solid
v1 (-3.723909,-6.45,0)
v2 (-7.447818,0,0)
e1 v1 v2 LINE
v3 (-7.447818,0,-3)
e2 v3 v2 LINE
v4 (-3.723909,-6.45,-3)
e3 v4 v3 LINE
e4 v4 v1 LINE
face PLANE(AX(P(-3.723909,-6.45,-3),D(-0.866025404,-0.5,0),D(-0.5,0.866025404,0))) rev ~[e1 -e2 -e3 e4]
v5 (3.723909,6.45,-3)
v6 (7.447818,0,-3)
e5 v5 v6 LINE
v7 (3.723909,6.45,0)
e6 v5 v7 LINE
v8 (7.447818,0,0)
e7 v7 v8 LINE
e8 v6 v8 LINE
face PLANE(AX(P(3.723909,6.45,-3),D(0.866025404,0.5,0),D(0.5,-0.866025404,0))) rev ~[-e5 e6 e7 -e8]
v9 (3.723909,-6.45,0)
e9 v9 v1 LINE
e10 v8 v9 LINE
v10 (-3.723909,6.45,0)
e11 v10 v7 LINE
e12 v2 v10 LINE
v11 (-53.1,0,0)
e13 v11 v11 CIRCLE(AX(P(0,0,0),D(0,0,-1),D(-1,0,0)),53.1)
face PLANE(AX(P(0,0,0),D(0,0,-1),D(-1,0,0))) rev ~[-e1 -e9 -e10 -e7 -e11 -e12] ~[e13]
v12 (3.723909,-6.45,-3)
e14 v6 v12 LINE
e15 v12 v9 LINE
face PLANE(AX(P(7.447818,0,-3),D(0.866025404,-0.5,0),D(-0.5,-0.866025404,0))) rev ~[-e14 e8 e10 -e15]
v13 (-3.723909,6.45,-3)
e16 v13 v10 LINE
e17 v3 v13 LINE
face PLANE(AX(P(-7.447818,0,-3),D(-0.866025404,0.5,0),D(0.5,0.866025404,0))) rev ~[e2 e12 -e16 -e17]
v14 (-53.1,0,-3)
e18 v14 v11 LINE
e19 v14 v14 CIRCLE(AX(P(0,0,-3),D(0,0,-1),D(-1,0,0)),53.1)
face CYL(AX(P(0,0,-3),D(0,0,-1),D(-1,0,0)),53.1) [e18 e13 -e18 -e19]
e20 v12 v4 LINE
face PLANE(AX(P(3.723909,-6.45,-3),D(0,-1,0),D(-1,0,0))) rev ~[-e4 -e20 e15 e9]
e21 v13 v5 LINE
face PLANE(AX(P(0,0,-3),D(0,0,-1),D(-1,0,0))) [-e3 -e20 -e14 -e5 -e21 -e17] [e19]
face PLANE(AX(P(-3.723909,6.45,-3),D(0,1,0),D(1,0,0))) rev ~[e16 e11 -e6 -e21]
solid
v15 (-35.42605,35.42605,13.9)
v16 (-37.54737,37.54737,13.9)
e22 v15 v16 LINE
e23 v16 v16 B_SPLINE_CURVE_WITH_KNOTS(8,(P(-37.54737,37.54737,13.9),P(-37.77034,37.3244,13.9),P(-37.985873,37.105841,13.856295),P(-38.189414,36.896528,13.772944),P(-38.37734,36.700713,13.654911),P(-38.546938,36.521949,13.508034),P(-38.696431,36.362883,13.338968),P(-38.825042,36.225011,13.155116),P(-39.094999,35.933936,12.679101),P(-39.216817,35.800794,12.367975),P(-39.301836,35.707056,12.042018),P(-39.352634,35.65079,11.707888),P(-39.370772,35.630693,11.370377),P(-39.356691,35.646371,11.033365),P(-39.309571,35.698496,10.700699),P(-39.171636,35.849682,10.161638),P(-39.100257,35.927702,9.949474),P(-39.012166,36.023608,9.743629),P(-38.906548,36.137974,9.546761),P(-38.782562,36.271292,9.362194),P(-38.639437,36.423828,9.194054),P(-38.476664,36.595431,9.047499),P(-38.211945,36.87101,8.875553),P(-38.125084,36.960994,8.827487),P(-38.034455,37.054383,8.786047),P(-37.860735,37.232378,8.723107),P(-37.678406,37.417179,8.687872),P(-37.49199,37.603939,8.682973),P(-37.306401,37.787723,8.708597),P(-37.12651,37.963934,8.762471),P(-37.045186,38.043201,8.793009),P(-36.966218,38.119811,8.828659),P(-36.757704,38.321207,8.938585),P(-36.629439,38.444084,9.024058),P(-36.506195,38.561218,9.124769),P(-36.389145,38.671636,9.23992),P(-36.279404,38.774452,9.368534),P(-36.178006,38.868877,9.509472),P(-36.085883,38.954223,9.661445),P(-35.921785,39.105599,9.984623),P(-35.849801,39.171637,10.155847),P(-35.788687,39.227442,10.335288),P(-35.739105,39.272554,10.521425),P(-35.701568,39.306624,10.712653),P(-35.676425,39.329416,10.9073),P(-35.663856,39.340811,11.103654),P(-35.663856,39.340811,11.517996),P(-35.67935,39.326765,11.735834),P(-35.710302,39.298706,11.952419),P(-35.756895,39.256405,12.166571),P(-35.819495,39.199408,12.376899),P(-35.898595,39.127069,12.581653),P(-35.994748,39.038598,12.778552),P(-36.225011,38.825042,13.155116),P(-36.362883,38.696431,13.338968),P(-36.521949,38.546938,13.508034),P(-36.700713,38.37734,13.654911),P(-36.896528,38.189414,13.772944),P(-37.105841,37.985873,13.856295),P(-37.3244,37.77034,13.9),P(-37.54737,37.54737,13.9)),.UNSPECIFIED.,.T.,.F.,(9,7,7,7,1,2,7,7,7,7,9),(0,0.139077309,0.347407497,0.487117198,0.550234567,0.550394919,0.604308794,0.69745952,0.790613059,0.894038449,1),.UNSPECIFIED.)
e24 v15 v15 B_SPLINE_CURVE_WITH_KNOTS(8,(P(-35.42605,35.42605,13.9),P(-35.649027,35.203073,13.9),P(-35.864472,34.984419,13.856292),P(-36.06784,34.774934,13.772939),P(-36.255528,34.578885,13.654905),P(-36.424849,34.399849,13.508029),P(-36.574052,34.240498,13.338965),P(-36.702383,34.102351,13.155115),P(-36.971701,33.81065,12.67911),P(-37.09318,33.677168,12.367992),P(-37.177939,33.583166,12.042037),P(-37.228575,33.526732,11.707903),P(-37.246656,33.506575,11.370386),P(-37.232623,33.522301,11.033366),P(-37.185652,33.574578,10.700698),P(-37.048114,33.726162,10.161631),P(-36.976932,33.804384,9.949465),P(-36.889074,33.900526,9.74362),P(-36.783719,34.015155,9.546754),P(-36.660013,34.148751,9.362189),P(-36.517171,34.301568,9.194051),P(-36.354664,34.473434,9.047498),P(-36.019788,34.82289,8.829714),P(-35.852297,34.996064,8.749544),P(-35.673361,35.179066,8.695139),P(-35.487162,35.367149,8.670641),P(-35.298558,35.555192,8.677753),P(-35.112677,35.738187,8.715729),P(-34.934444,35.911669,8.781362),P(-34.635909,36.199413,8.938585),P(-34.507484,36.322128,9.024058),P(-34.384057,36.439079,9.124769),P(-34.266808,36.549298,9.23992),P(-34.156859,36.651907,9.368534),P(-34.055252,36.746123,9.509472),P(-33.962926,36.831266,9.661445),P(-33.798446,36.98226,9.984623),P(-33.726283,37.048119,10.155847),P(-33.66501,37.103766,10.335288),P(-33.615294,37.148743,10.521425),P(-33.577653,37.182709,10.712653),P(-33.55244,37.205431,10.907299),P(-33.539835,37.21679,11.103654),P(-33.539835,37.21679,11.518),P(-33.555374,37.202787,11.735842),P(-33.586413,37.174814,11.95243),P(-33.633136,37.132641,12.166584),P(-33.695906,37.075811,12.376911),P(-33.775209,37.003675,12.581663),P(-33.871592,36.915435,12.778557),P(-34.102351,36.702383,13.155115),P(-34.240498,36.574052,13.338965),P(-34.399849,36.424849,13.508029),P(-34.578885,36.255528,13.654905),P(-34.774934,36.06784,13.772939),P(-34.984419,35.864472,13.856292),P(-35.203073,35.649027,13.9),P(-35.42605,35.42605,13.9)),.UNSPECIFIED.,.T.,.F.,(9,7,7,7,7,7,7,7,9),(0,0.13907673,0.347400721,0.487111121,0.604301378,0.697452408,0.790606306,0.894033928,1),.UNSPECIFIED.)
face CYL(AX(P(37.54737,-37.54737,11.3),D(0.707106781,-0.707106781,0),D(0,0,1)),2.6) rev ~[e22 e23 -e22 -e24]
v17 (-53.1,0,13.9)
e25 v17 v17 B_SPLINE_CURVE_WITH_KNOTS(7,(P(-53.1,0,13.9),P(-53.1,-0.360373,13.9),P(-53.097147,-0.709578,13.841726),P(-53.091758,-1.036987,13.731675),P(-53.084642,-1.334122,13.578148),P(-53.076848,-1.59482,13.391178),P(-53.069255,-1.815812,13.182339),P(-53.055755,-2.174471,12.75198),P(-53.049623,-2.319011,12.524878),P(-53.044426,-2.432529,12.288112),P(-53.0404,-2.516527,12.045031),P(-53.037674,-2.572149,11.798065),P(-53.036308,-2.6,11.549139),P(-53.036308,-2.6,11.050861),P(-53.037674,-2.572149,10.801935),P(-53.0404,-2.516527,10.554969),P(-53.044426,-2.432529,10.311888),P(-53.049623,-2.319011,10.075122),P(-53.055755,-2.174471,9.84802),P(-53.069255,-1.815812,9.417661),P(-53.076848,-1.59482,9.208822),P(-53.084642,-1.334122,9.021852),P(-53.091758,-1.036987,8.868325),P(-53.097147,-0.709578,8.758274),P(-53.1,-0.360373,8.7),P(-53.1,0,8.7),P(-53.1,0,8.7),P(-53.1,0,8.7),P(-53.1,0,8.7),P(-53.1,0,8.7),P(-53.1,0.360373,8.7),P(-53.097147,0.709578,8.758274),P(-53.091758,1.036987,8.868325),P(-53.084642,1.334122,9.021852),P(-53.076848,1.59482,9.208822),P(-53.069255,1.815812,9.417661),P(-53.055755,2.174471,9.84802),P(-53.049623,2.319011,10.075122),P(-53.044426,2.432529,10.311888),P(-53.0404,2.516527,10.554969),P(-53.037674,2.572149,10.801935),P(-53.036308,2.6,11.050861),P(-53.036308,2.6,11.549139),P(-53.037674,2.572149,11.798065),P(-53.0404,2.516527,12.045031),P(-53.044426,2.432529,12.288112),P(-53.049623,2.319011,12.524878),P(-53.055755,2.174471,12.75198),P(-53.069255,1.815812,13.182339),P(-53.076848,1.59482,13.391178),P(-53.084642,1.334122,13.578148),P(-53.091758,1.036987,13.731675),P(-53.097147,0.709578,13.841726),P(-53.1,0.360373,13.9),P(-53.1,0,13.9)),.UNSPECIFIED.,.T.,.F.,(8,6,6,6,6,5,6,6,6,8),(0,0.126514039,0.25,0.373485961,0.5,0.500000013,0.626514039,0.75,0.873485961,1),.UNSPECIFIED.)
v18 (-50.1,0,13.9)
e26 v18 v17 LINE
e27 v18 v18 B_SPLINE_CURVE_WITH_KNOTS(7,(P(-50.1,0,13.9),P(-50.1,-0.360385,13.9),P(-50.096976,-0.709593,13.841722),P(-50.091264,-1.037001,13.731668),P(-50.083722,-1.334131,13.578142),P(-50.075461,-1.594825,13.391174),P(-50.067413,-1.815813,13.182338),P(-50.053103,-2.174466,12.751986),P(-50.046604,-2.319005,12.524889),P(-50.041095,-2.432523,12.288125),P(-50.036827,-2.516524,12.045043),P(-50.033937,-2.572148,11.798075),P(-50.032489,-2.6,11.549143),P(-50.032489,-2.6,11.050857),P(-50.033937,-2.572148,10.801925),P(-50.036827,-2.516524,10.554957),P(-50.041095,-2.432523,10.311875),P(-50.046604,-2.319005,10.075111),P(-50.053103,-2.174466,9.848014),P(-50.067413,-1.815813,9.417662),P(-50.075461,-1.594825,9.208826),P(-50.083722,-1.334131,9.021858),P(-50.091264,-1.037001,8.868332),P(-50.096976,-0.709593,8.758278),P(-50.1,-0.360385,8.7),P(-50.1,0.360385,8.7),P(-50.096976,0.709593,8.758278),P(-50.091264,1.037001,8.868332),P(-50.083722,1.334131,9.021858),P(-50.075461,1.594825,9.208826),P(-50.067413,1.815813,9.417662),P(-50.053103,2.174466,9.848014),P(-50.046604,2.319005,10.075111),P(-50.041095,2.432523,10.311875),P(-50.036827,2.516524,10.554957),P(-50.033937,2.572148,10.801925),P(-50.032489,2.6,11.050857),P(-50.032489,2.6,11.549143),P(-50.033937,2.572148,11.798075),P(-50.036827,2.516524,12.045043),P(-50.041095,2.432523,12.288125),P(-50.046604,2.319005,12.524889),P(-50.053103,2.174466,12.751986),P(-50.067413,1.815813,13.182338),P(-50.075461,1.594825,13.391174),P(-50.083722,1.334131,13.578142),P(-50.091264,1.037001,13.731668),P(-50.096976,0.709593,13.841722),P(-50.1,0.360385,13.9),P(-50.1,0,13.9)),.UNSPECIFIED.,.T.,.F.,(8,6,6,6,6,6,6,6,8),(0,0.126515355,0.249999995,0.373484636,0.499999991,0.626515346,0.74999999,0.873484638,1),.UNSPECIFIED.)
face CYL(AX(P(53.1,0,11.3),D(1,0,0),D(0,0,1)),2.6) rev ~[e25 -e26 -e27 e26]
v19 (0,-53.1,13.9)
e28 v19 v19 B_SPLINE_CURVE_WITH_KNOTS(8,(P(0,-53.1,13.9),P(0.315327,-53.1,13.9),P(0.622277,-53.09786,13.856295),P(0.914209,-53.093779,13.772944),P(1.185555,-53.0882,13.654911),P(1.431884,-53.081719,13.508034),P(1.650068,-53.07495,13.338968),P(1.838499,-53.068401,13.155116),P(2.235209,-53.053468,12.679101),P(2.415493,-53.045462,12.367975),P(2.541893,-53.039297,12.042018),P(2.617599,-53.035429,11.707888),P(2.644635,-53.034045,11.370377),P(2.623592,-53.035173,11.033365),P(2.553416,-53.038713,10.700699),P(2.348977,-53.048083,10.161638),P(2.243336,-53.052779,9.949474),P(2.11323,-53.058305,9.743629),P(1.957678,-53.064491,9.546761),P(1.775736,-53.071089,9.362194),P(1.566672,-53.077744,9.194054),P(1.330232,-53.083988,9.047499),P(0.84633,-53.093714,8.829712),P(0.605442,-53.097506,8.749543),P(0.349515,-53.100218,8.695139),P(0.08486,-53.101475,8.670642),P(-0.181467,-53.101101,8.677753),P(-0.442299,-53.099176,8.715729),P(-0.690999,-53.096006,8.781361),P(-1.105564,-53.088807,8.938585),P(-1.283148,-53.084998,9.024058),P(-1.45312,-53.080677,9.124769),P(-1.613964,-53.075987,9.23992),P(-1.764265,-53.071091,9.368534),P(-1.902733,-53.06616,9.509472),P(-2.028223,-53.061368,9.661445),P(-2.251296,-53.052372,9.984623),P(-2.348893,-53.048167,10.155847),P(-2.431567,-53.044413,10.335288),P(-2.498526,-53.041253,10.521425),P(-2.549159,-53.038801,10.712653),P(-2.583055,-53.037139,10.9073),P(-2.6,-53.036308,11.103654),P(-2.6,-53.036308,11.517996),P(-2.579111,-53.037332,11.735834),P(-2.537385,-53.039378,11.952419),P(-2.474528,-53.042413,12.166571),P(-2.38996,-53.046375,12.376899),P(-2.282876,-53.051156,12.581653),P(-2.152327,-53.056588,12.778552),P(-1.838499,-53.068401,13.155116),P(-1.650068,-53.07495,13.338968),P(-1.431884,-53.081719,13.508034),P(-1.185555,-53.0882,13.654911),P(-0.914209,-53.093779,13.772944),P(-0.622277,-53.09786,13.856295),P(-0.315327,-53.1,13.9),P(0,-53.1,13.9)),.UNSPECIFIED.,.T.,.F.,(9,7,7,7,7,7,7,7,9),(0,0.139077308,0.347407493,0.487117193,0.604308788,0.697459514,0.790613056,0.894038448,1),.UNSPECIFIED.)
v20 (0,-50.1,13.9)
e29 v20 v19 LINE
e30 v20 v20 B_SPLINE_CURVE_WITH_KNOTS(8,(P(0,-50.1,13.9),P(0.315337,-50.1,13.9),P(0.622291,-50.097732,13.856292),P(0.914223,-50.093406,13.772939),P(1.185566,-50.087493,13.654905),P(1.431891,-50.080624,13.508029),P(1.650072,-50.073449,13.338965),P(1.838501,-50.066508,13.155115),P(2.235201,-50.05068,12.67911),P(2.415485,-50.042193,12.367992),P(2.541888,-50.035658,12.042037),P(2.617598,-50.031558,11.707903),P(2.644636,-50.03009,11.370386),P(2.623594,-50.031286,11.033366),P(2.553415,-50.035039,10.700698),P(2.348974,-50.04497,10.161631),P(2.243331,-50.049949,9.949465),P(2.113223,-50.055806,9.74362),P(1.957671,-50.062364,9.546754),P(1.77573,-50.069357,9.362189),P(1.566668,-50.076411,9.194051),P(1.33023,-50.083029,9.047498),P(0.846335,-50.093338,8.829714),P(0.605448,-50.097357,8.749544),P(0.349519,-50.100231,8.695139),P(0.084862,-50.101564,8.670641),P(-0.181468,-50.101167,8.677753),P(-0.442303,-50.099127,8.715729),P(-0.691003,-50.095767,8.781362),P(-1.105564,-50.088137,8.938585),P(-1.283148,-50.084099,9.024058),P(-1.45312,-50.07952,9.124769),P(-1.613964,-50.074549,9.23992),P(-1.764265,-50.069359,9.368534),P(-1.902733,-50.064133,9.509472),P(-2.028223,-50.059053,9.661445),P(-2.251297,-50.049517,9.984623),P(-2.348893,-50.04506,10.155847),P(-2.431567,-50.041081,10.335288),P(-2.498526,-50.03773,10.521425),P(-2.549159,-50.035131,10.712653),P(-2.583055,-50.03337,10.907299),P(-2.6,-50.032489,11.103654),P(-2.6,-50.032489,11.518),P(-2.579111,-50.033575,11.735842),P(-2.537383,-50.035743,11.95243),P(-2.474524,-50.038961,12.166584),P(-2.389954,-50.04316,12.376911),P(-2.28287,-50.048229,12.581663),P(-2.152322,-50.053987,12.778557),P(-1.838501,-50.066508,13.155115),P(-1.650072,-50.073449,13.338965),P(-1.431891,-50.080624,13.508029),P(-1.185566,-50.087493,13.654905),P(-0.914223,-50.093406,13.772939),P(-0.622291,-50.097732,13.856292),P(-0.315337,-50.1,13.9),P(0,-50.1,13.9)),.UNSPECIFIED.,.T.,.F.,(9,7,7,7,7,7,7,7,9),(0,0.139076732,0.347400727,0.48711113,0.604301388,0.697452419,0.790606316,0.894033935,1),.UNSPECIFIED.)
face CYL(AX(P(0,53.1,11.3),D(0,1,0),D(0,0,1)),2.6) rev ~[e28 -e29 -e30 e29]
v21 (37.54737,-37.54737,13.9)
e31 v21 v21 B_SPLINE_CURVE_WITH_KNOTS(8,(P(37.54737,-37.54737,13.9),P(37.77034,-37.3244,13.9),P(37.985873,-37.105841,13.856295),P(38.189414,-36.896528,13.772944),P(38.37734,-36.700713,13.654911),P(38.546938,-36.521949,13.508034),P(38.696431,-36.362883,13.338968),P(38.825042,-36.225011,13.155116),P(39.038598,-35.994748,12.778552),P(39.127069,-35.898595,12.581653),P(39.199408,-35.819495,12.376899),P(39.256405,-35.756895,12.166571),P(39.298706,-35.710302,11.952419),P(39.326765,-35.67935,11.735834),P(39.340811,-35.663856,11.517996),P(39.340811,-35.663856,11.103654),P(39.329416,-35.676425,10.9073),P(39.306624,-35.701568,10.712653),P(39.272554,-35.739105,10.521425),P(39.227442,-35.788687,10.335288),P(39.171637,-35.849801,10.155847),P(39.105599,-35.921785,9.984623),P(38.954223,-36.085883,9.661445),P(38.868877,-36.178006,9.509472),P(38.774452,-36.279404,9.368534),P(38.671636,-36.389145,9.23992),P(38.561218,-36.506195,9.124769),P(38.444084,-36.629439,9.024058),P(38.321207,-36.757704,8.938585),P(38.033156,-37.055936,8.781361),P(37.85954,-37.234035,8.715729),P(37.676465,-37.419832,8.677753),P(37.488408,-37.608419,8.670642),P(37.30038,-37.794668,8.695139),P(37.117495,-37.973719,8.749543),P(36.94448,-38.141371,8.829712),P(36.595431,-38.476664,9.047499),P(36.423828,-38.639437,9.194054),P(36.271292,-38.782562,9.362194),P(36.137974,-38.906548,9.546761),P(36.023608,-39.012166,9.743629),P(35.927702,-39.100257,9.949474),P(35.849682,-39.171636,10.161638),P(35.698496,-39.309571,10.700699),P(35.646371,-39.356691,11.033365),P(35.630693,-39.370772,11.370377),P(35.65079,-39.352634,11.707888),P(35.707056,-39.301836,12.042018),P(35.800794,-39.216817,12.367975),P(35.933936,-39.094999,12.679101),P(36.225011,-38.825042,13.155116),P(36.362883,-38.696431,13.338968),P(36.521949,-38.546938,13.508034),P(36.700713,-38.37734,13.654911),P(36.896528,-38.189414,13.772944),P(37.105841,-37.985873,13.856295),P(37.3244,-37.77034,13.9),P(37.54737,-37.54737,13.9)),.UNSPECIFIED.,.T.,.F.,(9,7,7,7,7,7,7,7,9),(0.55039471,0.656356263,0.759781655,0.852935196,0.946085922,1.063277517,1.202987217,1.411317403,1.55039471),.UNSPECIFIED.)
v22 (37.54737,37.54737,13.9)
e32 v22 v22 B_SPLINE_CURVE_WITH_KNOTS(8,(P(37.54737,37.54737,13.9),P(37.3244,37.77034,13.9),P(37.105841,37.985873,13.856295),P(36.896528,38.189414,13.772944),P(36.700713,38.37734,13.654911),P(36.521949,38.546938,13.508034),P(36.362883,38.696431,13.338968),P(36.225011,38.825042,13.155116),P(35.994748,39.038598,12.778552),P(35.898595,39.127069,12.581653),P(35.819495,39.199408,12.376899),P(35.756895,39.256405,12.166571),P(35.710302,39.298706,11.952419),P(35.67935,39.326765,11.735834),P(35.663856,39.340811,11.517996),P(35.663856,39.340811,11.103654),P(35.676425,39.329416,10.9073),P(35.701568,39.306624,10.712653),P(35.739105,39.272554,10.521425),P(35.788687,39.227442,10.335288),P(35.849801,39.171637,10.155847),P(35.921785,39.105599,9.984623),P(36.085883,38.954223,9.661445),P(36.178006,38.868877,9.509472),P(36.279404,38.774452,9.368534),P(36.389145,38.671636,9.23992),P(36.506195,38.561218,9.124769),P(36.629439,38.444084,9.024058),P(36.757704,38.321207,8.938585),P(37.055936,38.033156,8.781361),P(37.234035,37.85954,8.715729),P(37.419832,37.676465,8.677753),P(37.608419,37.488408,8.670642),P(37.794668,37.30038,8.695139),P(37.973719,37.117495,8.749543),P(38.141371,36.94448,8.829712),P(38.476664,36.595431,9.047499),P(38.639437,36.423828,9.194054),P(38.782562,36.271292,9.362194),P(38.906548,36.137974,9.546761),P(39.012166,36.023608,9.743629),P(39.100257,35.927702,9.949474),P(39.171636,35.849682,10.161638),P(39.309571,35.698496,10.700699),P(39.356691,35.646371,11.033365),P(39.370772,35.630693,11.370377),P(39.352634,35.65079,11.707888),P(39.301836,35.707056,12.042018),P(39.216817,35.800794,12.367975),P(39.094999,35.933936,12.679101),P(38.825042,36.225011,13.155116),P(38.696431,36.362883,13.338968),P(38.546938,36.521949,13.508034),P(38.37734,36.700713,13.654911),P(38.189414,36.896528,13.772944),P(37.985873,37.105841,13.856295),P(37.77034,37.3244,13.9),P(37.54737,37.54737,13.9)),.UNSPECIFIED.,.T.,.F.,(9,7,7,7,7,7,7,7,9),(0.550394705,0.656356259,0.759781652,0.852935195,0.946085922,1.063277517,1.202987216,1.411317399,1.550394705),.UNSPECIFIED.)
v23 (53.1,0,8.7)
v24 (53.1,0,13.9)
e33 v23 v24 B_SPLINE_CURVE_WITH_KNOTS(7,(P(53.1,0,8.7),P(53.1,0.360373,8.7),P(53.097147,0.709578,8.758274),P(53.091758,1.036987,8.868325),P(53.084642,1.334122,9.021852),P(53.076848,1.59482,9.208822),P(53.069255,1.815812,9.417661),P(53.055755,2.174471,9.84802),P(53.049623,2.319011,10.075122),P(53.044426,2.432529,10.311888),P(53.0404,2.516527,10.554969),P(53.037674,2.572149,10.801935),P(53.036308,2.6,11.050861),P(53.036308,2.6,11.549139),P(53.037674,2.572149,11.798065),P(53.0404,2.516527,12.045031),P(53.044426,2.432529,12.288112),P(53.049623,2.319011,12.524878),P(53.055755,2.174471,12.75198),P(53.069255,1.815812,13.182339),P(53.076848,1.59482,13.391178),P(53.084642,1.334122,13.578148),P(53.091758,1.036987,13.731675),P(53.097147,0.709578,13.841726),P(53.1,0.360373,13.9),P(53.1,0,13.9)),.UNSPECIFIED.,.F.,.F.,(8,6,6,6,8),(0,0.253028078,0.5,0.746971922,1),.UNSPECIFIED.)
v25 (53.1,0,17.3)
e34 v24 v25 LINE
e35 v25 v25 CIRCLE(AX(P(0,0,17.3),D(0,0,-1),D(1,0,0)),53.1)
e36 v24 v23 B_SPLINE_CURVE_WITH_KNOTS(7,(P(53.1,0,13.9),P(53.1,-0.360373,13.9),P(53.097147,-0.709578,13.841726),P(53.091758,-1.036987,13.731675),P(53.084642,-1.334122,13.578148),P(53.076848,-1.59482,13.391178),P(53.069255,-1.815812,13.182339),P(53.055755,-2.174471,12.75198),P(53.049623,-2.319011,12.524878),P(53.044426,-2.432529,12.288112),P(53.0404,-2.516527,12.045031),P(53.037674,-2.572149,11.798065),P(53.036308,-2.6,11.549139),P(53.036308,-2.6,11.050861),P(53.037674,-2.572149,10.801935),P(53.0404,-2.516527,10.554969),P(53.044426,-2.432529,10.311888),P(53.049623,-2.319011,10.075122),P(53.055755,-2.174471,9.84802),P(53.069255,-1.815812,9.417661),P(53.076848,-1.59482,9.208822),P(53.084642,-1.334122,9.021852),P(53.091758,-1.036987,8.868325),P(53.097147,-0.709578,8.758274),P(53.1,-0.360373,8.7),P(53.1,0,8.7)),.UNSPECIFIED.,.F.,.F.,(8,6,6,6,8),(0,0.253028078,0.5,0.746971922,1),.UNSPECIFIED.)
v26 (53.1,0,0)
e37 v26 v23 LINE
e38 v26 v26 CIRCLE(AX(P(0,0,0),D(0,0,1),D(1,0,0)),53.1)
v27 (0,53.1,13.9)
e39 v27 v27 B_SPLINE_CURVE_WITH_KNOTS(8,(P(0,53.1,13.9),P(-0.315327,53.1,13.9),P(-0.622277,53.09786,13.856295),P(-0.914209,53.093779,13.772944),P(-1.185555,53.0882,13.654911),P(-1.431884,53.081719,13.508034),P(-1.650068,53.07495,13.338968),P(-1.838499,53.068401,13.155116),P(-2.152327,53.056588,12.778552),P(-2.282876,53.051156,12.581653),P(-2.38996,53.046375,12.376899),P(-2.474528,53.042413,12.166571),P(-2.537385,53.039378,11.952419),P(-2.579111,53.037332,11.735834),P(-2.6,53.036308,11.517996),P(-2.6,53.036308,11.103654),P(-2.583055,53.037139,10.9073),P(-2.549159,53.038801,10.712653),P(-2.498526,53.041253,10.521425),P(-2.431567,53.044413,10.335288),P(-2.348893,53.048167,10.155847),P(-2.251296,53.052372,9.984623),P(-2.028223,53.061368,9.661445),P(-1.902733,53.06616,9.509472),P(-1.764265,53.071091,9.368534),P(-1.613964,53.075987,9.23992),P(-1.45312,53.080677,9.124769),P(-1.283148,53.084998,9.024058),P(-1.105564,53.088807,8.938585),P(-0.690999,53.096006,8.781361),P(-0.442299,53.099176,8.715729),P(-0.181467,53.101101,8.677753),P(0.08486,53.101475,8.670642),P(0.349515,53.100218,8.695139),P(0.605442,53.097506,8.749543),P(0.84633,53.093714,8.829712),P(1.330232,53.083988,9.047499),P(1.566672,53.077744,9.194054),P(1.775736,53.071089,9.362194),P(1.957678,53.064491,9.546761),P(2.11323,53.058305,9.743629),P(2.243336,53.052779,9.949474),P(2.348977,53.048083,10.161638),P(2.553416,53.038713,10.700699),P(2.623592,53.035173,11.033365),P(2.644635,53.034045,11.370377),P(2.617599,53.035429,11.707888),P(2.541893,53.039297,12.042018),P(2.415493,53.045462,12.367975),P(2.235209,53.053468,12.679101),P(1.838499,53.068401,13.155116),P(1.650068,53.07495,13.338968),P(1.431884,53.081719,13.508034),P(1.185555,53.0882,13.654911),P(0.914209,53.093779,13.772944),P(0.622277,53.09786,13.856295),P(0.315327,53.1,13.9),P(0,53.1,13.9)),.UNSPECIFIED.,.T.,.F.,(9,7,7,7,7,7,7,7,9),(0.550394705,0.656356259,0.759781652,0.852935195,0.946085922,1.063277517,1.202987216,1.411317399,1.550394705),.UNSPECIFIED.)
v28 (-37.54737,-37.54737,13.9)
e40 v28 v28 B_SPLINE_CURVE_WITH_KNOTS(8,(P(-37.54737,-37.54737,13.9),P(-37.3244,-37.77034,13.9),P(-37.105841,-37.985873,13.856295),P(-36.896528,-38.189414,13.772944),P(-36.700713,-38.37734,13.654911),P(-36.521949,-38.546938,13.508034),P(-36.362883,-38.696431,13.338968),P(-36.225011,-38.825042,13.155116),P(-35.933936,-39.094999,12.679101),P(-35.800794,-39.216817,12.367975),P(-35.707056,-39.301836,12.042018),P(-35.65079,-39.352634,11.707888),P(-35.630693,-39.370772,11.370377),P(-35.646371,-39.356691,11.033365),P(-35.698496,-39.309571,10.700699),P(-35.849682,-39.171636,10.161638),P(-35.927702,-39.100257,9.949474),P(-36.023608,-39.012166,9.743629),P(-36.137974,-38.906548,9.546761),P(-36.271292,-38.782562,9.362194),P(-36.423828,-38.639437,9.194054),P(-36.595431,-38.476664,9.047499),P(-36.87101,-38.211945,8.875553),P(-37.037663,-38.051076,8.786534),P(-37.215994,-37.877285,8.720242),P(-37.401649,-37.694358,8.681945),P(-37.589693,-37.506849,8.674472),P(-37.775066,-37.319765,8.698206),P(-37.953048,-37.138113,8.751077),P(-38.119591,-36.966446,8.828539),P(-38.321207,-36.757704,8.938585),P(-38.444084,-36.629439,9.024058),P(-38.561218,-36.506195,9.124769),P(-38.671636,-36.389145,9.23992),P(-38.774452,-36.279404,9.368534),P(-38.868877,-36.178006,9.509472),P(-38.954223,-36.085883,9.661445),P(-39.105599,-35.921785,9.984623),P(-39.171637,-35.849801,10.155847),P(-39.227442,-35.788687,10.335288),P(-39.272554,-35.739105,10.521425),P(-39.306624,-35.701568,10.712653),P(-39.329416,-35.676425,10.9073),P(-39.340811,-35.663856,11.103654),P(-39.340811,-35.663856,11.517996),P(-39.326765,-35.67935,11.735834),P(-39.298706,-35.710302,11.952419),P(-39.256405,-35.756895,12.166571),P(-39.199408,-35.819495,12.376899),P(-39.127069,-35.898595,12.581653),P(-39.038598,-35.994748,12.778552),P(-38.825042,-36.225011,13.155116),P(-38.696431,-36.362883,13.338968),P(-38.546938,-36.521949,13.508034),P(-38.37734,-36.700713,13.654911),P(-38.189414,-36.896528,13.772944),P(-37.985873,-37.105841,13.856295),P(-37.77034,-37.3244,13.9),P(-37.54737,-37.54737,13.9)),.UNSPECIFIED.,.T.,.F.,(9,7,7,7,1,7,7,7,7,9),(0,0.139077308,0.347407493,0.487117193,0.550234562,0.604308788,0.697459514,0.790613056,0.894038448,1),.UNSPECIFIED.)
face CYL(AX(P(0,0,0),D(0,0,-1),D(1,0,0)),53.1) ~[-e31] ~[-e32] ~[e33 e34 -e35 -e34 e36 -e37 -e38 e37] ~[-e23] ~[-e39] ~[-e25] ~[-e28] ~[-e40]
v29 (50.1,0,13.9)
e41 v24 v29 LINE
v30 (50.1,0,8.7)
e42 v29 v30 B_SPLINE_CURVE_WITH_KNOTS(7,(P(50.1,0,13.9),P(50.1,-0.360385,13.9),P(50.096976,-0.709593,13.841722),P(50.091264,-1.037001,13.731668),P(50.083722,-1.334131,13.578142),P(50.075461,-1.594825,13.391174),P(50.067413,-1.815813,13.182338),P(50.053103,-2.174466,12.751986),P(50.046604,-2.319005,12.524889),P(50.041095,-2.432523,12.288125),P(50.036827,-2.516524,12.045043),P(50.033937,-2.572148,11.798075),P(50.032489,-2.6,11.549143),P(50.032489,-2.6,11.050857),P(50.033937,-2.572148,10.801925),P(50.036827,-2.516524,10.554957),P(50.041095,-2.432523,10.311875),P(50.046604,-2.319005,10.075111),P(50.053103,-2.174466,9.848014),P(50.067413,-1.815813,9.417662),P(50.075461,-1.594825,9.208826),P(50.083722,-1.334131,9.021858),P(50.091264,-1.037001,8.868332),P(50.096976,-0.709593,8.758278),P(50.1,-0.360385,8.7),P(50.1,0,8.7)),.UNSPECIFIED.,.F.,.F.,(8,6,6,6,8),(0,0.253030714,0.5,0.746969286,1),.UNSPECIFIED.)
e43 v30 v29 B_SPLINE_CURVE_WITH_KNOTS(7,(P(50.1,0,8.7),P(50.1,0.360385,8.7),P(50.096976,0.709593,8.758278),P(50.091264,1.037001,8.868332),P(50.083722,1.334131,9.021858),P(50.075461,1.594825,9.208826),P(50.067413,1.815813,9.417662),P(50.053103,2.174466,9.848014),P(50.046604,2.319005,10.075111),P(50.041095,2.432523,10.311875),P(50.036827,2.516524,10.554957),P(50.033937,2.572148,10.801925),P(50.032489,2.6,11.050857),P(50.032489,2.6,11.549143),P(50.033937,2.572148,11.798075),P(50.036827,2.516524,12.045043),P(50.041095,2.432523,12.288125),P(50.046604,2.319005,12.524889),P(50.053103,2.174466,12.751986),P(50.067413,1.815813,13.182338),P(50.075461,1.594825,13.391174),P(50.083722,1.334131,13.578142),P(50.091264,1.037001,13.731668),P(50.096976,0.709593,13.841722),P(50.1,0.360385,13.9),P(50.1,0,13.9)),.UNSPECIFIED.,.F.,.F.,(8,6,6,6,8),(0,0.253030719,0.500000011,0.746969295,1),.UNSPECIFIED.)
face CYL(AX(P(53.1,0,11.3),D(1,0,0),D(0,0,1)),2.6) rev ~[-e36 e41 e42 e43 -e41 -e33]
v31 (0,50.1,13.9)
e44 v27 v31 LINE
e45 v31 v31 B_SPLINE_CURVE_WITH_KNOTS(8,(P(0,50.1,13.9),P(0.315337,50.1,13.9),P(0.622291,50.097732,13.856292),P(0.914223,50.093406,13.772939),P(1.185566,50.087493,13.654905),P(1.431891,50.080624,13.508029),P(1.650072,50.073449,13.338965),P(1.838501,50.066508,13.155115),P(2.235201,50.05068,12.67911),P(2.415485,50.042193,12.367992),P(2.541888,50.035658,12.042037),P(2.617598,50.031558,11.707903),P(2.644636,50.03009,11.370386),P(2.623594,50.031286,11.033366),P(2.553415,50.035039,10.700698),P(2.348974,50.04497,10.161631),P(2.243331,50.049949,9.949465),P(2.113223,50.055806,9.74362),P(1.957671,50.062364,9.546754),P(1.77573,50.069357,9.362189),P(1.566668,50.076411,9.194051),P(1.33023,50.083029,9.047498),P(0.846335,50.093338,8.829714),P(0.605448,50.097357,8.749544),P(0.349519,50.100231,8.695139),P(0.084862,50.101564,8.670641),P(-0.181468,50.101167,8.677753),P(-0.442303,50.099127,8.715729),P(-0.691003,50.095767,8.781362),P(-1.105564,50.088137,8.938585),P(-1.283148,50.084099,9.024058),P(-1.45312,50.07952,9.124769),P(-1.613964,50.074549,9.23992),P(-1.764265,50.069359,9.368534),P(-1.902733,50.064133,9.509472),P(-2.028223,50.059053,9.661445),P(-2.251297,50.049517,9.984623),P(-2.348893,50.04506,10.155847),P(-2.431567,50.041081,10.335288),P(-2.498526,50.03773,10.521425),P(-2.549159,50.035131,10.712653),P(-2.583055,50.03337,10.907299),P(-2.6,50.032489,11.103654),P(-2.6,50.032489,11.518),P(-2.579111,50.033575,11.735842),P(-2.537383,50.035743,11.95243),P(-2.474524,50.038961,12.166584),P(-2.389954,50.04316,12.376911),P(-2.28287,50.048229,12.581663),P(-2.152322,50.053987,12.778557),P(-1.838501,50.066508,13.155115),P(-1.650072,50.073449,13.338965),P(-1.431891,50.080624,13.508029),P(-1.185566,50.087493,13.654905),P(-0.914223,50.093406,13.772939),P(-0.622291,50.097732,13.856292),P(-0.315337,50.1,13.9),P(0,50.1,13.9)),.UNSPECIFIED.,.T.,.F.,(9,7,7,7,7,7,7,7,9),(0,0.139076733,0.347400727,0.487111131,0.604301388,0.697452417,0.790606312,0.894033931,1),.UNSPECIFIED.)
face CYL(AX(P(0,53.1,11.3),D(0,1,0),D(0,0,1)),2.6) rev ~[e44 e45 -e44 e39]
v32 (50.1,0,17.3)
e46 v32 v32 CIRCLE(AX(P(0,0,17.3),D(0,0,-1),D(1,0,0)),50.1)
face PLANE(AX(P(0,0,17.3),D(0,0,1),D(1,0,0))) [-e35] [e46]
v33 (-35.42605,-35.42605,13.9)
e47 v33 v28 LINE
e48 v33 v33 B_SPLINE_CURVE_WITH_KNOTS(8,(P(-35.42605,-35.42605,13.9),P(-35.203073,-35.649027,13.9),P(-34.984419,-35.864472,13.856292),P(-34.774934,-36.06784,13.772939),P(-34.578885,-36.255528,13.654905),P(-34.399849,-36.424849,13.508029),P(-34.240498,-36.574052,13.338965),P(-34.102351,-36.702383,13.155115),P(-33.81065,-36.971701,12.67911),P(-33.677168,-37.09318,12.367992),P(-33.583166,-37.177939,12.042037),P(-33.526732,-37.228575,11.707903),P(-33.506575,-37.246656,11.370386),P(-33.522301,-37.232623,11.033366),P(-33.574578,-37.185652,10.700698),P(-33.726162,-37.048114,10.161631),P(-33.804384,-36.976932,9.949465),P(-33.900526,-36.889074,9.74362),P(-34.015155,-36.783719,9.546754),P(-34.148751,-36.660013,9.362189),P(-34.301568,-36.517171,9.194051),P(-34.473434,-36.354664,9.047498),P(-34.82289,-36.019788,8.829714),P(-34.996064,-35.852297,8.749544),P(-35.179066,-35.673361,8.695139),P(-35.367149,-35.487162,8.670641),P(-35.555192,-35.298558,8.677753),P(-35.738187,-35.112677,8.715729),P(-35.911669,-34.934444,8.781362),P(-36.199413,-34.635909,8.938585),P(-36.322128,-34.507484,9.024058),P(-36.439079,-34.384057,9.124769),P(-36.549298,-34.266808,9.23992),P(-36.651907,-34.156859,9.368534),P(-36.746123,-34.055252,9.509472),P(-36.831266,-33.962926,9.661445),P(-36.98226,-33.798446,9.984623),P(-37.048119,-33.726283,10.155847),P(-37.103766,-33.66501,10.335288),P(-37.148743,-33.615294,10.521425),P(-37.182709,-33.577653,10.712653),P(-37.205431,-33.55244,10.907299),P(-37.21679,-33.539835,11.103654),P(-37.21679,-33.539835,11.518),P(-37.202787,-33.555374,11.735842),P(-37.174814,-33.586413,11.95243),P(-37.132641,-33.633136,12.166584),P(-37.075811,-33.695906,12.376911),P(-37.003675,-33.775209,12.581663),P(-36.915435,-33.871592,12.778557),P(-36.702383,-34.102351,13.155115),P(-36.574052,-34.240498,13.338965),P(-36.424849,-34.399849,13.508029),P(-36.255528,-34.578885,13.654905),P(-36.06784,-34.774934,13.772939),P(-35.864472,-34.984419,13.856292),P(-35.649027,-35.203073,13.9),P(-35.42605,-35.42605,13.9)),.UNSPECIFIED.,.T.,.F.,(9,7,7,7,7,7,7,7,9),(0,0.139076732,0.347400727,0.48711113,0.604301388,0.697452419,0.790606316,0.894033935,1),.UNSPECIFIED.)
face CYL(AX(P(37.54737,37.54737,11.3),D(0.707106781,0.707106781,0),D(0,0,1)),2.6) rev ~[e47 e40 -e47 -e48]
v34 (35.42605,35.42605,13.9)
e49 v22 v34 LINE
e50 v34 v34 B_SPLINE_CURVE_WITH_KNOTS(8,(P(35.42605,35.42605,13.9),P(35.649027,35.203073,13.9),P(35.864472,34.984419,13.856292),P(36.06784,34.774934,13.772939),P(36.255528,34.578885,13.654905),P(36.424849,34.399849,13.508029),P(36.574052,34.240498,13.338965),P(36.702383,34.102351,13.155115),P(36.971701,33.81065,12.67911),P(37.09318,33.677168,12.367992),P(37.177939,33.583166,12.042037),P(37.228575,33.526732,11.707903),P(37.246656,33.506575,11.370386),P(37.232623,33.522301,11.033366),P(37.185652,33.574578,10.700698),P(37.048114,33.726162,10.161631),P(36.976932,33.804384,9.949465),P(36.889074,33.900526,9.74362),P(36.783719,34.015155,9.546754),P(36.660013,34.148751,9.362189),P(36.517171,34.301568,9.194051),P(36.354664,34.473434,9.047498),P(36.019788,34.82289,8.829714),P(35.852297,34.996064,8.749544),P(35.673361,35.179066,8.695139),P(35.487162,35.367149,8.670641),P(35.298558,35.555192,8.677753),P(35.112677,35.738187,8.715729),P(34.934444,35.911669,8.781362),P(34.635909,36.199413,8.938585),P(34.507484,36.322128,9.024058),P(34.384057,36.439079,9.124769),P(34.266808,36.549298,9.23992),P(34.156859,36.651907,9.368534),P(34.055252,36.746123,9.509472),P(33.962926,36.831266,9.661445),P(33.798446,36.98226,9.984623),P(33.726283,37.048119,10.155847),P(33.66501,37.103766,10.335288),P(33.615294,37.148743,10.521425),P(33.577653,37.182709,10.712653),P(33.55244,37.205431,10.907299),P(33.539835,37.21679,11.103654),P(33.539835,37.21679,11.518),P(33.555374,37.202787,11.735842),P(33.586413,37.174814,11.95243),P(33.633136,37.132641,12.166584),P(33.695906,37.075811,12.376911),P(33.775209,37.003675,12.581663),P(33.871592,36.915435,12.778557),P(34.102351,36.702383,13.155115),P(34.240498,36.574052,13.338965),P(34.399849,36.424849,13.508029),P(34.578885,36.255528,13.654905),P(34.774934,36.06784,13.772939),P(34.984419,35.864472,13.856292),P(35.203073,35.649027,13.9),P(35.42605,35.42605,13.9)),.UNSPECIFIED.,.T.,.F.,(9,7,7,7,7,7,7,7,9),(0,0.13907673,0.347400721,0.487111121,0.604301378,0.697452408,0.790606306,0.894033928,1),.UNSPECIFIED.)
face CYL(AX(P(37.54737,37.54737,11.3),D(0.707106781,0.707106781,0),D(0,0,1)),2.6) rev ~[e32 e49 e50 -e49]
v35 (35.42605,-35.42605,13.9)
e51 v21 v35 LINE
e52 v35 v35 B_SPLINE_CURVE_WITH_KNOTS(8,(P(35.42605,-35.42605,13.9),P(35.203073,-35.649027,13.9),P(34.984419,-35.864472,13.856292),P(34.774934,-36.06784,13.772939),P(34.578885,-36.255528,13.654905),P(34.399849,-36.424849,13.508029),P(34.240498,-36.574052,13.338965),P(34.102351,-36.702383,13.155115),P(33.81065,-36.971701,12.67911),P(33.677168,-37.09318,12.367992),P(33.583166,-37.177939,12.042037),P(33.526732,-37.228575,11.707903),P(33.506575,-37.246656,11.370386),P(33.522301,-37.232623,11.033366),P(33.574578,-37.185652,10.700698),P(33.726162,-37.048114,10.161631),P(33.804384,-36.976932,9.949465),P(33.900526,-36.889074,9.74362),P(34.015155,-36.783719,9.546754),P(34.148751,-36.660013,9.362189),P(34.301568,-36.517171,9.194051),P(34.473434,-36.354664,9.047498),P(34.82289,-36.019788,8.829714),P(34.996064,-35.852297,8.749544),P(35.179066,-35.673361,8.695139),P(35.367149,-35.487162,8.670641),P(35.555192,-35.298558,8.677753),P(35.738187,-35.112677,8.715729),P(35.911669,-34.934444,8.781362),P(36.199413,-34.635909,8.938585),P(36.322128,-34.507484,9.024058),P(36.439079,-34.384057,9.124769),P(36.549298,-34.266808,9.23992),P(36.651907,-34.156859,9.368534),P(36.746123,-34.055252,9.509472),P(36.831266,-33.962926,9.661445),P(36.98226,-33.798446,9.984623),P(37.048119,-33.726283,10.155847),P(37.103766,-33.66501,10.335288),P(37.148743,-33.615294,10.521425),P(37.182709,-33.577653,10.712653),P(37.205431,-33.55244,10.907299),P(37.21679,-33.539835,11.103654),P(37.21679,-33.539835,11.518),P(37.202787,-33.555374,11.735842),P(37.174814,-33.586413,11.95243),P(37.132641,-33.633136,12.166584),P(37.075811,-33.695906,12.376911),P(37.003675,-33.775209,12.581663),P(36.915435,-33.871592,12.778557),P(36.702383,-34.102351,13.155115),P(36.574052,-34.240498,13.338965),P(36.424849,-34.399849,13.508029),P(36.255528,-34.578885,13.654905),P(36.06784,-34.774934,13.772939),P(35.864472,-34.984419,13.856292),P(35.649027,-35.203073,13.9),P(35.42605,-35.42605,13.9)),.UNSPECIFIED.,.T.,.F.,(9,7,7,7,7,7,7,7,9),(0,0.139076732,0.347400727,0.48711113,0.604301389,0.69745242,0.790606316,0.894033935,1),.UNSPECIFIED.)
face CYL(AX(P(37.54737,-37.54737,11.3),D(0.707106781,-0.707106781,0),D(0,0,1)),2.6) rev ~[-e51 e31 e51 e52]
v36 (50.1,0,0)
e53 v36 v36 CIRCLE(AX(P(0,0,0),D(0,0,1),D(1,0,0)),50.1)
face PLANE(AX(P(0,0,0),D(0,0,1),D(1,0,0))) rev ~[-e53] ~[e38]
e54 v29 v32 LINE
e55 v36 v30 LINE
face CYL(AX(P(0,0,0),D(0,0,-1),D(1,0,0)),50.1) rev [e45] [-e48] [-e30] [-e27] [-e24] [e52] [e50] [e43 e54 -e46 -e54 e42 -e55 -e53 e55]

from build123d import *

# Parameters (mm, degrees)
SKETCH_1_R               = 53.1
SKETCH_1_R_2             = 50.1
EXTRUDE_1_DEPTH          = 22.3
EXTRUDE_START            = 3
SKETCH_2_R               = 53.1
EXTRUDE_2_DEPTH          = 3
SKETCH_4_R               = 2.6
CUT_EXTRUDE_3_DEPTH      = 121.81117498
PATTERN_CIRCULAR_1_COUNT = 8
CUT_EXTRUDE_4_DEPTH      = 10
SKETCH_5_R               = 65.353974711
CUT_EXTRUDE_5_DEPTH      = 5


with BuildPart() as part:
    # 草图1 → 凸台-拉伸1 (new body)
    with BuildSketch(Plane.XY):
        Circle(SKETCH_1_R)
        Circle(SKETCH_1_R_2, mode=Mode.SUBTRACT)
    extrude(amount=EXTRUDE_1_DEPTH)

    # 草图4 → 切除-拉伸3 (cut, through all)
    with BuildSketch(Plane(origin=(0, 53.1, 0), x_dir=(1, 0, 0), z_dir=(0, 1, 0))):
        with Locations(Location((0, -11.3, 0), (0, 0, 270))):
            Circle(SKETCH_4_R)
    cut_extrude_3 = extrude(amount=-CUT_EXTRUDE_3_DEPTH, mode=Mode.SUBTRACT)

    # 阵列(圆周)1: 切除-拉伸3 ×8 about axis
    pattern_circular_1_axis = Axis((0, 0, -3), (0, 0, -1))
    for i in range(1, PATTERN_CIRCULAR_1_COUNT):
        add(cut_extrude_3.rotate(pattern_circular_1_axis, i * 360 / PATTERN_CIRCULAR_1_COUNT), mode=Mode.SUBTRACT)

    # 草图5 → 切除-拉伸5 (cut)
    with BuildSketch(Plane.XY.offset(22.3)):
        Circle(SKETCH_5_R)
    extrude(amount=-CUT_EXTRUDE_5_DEPTH, mode=Mode.SUBTRACT)


with BuildPart() as body_2:
    # 草图2 → 凸台-拉伸2 (new body)
    with BuildSketch(Plane(origin=(0, 0, 0), x_dir=(-1, 0, 0), z_dir=(0, 0, -1)).offset(EXTRUDE_START)):
        Circle(SKETCH_2_R)
    extrude(amount=-EXTRUDE_2_DEPTH)

    # 草图3 → 切除-拉伸4 (cut)
    with BuildSketch(Plane(origin=(0, 0, -3), x_dir=(-1, 0, 0), z_dir=(0, 0, -1))):
        Polygon((3.723909236, -6.45), (7.447818473, 0), (3.723909236, 6.45), (-3.723909236, 6.45), (-7.447818473, 0), (-3.723909236, -6.45), align=None)
    extrude(amount=-CUT_EXTRUDE_4_DEPTH, mode=Mode.SUBTRACT)


solid = Compound([part.part, body_2.part])
